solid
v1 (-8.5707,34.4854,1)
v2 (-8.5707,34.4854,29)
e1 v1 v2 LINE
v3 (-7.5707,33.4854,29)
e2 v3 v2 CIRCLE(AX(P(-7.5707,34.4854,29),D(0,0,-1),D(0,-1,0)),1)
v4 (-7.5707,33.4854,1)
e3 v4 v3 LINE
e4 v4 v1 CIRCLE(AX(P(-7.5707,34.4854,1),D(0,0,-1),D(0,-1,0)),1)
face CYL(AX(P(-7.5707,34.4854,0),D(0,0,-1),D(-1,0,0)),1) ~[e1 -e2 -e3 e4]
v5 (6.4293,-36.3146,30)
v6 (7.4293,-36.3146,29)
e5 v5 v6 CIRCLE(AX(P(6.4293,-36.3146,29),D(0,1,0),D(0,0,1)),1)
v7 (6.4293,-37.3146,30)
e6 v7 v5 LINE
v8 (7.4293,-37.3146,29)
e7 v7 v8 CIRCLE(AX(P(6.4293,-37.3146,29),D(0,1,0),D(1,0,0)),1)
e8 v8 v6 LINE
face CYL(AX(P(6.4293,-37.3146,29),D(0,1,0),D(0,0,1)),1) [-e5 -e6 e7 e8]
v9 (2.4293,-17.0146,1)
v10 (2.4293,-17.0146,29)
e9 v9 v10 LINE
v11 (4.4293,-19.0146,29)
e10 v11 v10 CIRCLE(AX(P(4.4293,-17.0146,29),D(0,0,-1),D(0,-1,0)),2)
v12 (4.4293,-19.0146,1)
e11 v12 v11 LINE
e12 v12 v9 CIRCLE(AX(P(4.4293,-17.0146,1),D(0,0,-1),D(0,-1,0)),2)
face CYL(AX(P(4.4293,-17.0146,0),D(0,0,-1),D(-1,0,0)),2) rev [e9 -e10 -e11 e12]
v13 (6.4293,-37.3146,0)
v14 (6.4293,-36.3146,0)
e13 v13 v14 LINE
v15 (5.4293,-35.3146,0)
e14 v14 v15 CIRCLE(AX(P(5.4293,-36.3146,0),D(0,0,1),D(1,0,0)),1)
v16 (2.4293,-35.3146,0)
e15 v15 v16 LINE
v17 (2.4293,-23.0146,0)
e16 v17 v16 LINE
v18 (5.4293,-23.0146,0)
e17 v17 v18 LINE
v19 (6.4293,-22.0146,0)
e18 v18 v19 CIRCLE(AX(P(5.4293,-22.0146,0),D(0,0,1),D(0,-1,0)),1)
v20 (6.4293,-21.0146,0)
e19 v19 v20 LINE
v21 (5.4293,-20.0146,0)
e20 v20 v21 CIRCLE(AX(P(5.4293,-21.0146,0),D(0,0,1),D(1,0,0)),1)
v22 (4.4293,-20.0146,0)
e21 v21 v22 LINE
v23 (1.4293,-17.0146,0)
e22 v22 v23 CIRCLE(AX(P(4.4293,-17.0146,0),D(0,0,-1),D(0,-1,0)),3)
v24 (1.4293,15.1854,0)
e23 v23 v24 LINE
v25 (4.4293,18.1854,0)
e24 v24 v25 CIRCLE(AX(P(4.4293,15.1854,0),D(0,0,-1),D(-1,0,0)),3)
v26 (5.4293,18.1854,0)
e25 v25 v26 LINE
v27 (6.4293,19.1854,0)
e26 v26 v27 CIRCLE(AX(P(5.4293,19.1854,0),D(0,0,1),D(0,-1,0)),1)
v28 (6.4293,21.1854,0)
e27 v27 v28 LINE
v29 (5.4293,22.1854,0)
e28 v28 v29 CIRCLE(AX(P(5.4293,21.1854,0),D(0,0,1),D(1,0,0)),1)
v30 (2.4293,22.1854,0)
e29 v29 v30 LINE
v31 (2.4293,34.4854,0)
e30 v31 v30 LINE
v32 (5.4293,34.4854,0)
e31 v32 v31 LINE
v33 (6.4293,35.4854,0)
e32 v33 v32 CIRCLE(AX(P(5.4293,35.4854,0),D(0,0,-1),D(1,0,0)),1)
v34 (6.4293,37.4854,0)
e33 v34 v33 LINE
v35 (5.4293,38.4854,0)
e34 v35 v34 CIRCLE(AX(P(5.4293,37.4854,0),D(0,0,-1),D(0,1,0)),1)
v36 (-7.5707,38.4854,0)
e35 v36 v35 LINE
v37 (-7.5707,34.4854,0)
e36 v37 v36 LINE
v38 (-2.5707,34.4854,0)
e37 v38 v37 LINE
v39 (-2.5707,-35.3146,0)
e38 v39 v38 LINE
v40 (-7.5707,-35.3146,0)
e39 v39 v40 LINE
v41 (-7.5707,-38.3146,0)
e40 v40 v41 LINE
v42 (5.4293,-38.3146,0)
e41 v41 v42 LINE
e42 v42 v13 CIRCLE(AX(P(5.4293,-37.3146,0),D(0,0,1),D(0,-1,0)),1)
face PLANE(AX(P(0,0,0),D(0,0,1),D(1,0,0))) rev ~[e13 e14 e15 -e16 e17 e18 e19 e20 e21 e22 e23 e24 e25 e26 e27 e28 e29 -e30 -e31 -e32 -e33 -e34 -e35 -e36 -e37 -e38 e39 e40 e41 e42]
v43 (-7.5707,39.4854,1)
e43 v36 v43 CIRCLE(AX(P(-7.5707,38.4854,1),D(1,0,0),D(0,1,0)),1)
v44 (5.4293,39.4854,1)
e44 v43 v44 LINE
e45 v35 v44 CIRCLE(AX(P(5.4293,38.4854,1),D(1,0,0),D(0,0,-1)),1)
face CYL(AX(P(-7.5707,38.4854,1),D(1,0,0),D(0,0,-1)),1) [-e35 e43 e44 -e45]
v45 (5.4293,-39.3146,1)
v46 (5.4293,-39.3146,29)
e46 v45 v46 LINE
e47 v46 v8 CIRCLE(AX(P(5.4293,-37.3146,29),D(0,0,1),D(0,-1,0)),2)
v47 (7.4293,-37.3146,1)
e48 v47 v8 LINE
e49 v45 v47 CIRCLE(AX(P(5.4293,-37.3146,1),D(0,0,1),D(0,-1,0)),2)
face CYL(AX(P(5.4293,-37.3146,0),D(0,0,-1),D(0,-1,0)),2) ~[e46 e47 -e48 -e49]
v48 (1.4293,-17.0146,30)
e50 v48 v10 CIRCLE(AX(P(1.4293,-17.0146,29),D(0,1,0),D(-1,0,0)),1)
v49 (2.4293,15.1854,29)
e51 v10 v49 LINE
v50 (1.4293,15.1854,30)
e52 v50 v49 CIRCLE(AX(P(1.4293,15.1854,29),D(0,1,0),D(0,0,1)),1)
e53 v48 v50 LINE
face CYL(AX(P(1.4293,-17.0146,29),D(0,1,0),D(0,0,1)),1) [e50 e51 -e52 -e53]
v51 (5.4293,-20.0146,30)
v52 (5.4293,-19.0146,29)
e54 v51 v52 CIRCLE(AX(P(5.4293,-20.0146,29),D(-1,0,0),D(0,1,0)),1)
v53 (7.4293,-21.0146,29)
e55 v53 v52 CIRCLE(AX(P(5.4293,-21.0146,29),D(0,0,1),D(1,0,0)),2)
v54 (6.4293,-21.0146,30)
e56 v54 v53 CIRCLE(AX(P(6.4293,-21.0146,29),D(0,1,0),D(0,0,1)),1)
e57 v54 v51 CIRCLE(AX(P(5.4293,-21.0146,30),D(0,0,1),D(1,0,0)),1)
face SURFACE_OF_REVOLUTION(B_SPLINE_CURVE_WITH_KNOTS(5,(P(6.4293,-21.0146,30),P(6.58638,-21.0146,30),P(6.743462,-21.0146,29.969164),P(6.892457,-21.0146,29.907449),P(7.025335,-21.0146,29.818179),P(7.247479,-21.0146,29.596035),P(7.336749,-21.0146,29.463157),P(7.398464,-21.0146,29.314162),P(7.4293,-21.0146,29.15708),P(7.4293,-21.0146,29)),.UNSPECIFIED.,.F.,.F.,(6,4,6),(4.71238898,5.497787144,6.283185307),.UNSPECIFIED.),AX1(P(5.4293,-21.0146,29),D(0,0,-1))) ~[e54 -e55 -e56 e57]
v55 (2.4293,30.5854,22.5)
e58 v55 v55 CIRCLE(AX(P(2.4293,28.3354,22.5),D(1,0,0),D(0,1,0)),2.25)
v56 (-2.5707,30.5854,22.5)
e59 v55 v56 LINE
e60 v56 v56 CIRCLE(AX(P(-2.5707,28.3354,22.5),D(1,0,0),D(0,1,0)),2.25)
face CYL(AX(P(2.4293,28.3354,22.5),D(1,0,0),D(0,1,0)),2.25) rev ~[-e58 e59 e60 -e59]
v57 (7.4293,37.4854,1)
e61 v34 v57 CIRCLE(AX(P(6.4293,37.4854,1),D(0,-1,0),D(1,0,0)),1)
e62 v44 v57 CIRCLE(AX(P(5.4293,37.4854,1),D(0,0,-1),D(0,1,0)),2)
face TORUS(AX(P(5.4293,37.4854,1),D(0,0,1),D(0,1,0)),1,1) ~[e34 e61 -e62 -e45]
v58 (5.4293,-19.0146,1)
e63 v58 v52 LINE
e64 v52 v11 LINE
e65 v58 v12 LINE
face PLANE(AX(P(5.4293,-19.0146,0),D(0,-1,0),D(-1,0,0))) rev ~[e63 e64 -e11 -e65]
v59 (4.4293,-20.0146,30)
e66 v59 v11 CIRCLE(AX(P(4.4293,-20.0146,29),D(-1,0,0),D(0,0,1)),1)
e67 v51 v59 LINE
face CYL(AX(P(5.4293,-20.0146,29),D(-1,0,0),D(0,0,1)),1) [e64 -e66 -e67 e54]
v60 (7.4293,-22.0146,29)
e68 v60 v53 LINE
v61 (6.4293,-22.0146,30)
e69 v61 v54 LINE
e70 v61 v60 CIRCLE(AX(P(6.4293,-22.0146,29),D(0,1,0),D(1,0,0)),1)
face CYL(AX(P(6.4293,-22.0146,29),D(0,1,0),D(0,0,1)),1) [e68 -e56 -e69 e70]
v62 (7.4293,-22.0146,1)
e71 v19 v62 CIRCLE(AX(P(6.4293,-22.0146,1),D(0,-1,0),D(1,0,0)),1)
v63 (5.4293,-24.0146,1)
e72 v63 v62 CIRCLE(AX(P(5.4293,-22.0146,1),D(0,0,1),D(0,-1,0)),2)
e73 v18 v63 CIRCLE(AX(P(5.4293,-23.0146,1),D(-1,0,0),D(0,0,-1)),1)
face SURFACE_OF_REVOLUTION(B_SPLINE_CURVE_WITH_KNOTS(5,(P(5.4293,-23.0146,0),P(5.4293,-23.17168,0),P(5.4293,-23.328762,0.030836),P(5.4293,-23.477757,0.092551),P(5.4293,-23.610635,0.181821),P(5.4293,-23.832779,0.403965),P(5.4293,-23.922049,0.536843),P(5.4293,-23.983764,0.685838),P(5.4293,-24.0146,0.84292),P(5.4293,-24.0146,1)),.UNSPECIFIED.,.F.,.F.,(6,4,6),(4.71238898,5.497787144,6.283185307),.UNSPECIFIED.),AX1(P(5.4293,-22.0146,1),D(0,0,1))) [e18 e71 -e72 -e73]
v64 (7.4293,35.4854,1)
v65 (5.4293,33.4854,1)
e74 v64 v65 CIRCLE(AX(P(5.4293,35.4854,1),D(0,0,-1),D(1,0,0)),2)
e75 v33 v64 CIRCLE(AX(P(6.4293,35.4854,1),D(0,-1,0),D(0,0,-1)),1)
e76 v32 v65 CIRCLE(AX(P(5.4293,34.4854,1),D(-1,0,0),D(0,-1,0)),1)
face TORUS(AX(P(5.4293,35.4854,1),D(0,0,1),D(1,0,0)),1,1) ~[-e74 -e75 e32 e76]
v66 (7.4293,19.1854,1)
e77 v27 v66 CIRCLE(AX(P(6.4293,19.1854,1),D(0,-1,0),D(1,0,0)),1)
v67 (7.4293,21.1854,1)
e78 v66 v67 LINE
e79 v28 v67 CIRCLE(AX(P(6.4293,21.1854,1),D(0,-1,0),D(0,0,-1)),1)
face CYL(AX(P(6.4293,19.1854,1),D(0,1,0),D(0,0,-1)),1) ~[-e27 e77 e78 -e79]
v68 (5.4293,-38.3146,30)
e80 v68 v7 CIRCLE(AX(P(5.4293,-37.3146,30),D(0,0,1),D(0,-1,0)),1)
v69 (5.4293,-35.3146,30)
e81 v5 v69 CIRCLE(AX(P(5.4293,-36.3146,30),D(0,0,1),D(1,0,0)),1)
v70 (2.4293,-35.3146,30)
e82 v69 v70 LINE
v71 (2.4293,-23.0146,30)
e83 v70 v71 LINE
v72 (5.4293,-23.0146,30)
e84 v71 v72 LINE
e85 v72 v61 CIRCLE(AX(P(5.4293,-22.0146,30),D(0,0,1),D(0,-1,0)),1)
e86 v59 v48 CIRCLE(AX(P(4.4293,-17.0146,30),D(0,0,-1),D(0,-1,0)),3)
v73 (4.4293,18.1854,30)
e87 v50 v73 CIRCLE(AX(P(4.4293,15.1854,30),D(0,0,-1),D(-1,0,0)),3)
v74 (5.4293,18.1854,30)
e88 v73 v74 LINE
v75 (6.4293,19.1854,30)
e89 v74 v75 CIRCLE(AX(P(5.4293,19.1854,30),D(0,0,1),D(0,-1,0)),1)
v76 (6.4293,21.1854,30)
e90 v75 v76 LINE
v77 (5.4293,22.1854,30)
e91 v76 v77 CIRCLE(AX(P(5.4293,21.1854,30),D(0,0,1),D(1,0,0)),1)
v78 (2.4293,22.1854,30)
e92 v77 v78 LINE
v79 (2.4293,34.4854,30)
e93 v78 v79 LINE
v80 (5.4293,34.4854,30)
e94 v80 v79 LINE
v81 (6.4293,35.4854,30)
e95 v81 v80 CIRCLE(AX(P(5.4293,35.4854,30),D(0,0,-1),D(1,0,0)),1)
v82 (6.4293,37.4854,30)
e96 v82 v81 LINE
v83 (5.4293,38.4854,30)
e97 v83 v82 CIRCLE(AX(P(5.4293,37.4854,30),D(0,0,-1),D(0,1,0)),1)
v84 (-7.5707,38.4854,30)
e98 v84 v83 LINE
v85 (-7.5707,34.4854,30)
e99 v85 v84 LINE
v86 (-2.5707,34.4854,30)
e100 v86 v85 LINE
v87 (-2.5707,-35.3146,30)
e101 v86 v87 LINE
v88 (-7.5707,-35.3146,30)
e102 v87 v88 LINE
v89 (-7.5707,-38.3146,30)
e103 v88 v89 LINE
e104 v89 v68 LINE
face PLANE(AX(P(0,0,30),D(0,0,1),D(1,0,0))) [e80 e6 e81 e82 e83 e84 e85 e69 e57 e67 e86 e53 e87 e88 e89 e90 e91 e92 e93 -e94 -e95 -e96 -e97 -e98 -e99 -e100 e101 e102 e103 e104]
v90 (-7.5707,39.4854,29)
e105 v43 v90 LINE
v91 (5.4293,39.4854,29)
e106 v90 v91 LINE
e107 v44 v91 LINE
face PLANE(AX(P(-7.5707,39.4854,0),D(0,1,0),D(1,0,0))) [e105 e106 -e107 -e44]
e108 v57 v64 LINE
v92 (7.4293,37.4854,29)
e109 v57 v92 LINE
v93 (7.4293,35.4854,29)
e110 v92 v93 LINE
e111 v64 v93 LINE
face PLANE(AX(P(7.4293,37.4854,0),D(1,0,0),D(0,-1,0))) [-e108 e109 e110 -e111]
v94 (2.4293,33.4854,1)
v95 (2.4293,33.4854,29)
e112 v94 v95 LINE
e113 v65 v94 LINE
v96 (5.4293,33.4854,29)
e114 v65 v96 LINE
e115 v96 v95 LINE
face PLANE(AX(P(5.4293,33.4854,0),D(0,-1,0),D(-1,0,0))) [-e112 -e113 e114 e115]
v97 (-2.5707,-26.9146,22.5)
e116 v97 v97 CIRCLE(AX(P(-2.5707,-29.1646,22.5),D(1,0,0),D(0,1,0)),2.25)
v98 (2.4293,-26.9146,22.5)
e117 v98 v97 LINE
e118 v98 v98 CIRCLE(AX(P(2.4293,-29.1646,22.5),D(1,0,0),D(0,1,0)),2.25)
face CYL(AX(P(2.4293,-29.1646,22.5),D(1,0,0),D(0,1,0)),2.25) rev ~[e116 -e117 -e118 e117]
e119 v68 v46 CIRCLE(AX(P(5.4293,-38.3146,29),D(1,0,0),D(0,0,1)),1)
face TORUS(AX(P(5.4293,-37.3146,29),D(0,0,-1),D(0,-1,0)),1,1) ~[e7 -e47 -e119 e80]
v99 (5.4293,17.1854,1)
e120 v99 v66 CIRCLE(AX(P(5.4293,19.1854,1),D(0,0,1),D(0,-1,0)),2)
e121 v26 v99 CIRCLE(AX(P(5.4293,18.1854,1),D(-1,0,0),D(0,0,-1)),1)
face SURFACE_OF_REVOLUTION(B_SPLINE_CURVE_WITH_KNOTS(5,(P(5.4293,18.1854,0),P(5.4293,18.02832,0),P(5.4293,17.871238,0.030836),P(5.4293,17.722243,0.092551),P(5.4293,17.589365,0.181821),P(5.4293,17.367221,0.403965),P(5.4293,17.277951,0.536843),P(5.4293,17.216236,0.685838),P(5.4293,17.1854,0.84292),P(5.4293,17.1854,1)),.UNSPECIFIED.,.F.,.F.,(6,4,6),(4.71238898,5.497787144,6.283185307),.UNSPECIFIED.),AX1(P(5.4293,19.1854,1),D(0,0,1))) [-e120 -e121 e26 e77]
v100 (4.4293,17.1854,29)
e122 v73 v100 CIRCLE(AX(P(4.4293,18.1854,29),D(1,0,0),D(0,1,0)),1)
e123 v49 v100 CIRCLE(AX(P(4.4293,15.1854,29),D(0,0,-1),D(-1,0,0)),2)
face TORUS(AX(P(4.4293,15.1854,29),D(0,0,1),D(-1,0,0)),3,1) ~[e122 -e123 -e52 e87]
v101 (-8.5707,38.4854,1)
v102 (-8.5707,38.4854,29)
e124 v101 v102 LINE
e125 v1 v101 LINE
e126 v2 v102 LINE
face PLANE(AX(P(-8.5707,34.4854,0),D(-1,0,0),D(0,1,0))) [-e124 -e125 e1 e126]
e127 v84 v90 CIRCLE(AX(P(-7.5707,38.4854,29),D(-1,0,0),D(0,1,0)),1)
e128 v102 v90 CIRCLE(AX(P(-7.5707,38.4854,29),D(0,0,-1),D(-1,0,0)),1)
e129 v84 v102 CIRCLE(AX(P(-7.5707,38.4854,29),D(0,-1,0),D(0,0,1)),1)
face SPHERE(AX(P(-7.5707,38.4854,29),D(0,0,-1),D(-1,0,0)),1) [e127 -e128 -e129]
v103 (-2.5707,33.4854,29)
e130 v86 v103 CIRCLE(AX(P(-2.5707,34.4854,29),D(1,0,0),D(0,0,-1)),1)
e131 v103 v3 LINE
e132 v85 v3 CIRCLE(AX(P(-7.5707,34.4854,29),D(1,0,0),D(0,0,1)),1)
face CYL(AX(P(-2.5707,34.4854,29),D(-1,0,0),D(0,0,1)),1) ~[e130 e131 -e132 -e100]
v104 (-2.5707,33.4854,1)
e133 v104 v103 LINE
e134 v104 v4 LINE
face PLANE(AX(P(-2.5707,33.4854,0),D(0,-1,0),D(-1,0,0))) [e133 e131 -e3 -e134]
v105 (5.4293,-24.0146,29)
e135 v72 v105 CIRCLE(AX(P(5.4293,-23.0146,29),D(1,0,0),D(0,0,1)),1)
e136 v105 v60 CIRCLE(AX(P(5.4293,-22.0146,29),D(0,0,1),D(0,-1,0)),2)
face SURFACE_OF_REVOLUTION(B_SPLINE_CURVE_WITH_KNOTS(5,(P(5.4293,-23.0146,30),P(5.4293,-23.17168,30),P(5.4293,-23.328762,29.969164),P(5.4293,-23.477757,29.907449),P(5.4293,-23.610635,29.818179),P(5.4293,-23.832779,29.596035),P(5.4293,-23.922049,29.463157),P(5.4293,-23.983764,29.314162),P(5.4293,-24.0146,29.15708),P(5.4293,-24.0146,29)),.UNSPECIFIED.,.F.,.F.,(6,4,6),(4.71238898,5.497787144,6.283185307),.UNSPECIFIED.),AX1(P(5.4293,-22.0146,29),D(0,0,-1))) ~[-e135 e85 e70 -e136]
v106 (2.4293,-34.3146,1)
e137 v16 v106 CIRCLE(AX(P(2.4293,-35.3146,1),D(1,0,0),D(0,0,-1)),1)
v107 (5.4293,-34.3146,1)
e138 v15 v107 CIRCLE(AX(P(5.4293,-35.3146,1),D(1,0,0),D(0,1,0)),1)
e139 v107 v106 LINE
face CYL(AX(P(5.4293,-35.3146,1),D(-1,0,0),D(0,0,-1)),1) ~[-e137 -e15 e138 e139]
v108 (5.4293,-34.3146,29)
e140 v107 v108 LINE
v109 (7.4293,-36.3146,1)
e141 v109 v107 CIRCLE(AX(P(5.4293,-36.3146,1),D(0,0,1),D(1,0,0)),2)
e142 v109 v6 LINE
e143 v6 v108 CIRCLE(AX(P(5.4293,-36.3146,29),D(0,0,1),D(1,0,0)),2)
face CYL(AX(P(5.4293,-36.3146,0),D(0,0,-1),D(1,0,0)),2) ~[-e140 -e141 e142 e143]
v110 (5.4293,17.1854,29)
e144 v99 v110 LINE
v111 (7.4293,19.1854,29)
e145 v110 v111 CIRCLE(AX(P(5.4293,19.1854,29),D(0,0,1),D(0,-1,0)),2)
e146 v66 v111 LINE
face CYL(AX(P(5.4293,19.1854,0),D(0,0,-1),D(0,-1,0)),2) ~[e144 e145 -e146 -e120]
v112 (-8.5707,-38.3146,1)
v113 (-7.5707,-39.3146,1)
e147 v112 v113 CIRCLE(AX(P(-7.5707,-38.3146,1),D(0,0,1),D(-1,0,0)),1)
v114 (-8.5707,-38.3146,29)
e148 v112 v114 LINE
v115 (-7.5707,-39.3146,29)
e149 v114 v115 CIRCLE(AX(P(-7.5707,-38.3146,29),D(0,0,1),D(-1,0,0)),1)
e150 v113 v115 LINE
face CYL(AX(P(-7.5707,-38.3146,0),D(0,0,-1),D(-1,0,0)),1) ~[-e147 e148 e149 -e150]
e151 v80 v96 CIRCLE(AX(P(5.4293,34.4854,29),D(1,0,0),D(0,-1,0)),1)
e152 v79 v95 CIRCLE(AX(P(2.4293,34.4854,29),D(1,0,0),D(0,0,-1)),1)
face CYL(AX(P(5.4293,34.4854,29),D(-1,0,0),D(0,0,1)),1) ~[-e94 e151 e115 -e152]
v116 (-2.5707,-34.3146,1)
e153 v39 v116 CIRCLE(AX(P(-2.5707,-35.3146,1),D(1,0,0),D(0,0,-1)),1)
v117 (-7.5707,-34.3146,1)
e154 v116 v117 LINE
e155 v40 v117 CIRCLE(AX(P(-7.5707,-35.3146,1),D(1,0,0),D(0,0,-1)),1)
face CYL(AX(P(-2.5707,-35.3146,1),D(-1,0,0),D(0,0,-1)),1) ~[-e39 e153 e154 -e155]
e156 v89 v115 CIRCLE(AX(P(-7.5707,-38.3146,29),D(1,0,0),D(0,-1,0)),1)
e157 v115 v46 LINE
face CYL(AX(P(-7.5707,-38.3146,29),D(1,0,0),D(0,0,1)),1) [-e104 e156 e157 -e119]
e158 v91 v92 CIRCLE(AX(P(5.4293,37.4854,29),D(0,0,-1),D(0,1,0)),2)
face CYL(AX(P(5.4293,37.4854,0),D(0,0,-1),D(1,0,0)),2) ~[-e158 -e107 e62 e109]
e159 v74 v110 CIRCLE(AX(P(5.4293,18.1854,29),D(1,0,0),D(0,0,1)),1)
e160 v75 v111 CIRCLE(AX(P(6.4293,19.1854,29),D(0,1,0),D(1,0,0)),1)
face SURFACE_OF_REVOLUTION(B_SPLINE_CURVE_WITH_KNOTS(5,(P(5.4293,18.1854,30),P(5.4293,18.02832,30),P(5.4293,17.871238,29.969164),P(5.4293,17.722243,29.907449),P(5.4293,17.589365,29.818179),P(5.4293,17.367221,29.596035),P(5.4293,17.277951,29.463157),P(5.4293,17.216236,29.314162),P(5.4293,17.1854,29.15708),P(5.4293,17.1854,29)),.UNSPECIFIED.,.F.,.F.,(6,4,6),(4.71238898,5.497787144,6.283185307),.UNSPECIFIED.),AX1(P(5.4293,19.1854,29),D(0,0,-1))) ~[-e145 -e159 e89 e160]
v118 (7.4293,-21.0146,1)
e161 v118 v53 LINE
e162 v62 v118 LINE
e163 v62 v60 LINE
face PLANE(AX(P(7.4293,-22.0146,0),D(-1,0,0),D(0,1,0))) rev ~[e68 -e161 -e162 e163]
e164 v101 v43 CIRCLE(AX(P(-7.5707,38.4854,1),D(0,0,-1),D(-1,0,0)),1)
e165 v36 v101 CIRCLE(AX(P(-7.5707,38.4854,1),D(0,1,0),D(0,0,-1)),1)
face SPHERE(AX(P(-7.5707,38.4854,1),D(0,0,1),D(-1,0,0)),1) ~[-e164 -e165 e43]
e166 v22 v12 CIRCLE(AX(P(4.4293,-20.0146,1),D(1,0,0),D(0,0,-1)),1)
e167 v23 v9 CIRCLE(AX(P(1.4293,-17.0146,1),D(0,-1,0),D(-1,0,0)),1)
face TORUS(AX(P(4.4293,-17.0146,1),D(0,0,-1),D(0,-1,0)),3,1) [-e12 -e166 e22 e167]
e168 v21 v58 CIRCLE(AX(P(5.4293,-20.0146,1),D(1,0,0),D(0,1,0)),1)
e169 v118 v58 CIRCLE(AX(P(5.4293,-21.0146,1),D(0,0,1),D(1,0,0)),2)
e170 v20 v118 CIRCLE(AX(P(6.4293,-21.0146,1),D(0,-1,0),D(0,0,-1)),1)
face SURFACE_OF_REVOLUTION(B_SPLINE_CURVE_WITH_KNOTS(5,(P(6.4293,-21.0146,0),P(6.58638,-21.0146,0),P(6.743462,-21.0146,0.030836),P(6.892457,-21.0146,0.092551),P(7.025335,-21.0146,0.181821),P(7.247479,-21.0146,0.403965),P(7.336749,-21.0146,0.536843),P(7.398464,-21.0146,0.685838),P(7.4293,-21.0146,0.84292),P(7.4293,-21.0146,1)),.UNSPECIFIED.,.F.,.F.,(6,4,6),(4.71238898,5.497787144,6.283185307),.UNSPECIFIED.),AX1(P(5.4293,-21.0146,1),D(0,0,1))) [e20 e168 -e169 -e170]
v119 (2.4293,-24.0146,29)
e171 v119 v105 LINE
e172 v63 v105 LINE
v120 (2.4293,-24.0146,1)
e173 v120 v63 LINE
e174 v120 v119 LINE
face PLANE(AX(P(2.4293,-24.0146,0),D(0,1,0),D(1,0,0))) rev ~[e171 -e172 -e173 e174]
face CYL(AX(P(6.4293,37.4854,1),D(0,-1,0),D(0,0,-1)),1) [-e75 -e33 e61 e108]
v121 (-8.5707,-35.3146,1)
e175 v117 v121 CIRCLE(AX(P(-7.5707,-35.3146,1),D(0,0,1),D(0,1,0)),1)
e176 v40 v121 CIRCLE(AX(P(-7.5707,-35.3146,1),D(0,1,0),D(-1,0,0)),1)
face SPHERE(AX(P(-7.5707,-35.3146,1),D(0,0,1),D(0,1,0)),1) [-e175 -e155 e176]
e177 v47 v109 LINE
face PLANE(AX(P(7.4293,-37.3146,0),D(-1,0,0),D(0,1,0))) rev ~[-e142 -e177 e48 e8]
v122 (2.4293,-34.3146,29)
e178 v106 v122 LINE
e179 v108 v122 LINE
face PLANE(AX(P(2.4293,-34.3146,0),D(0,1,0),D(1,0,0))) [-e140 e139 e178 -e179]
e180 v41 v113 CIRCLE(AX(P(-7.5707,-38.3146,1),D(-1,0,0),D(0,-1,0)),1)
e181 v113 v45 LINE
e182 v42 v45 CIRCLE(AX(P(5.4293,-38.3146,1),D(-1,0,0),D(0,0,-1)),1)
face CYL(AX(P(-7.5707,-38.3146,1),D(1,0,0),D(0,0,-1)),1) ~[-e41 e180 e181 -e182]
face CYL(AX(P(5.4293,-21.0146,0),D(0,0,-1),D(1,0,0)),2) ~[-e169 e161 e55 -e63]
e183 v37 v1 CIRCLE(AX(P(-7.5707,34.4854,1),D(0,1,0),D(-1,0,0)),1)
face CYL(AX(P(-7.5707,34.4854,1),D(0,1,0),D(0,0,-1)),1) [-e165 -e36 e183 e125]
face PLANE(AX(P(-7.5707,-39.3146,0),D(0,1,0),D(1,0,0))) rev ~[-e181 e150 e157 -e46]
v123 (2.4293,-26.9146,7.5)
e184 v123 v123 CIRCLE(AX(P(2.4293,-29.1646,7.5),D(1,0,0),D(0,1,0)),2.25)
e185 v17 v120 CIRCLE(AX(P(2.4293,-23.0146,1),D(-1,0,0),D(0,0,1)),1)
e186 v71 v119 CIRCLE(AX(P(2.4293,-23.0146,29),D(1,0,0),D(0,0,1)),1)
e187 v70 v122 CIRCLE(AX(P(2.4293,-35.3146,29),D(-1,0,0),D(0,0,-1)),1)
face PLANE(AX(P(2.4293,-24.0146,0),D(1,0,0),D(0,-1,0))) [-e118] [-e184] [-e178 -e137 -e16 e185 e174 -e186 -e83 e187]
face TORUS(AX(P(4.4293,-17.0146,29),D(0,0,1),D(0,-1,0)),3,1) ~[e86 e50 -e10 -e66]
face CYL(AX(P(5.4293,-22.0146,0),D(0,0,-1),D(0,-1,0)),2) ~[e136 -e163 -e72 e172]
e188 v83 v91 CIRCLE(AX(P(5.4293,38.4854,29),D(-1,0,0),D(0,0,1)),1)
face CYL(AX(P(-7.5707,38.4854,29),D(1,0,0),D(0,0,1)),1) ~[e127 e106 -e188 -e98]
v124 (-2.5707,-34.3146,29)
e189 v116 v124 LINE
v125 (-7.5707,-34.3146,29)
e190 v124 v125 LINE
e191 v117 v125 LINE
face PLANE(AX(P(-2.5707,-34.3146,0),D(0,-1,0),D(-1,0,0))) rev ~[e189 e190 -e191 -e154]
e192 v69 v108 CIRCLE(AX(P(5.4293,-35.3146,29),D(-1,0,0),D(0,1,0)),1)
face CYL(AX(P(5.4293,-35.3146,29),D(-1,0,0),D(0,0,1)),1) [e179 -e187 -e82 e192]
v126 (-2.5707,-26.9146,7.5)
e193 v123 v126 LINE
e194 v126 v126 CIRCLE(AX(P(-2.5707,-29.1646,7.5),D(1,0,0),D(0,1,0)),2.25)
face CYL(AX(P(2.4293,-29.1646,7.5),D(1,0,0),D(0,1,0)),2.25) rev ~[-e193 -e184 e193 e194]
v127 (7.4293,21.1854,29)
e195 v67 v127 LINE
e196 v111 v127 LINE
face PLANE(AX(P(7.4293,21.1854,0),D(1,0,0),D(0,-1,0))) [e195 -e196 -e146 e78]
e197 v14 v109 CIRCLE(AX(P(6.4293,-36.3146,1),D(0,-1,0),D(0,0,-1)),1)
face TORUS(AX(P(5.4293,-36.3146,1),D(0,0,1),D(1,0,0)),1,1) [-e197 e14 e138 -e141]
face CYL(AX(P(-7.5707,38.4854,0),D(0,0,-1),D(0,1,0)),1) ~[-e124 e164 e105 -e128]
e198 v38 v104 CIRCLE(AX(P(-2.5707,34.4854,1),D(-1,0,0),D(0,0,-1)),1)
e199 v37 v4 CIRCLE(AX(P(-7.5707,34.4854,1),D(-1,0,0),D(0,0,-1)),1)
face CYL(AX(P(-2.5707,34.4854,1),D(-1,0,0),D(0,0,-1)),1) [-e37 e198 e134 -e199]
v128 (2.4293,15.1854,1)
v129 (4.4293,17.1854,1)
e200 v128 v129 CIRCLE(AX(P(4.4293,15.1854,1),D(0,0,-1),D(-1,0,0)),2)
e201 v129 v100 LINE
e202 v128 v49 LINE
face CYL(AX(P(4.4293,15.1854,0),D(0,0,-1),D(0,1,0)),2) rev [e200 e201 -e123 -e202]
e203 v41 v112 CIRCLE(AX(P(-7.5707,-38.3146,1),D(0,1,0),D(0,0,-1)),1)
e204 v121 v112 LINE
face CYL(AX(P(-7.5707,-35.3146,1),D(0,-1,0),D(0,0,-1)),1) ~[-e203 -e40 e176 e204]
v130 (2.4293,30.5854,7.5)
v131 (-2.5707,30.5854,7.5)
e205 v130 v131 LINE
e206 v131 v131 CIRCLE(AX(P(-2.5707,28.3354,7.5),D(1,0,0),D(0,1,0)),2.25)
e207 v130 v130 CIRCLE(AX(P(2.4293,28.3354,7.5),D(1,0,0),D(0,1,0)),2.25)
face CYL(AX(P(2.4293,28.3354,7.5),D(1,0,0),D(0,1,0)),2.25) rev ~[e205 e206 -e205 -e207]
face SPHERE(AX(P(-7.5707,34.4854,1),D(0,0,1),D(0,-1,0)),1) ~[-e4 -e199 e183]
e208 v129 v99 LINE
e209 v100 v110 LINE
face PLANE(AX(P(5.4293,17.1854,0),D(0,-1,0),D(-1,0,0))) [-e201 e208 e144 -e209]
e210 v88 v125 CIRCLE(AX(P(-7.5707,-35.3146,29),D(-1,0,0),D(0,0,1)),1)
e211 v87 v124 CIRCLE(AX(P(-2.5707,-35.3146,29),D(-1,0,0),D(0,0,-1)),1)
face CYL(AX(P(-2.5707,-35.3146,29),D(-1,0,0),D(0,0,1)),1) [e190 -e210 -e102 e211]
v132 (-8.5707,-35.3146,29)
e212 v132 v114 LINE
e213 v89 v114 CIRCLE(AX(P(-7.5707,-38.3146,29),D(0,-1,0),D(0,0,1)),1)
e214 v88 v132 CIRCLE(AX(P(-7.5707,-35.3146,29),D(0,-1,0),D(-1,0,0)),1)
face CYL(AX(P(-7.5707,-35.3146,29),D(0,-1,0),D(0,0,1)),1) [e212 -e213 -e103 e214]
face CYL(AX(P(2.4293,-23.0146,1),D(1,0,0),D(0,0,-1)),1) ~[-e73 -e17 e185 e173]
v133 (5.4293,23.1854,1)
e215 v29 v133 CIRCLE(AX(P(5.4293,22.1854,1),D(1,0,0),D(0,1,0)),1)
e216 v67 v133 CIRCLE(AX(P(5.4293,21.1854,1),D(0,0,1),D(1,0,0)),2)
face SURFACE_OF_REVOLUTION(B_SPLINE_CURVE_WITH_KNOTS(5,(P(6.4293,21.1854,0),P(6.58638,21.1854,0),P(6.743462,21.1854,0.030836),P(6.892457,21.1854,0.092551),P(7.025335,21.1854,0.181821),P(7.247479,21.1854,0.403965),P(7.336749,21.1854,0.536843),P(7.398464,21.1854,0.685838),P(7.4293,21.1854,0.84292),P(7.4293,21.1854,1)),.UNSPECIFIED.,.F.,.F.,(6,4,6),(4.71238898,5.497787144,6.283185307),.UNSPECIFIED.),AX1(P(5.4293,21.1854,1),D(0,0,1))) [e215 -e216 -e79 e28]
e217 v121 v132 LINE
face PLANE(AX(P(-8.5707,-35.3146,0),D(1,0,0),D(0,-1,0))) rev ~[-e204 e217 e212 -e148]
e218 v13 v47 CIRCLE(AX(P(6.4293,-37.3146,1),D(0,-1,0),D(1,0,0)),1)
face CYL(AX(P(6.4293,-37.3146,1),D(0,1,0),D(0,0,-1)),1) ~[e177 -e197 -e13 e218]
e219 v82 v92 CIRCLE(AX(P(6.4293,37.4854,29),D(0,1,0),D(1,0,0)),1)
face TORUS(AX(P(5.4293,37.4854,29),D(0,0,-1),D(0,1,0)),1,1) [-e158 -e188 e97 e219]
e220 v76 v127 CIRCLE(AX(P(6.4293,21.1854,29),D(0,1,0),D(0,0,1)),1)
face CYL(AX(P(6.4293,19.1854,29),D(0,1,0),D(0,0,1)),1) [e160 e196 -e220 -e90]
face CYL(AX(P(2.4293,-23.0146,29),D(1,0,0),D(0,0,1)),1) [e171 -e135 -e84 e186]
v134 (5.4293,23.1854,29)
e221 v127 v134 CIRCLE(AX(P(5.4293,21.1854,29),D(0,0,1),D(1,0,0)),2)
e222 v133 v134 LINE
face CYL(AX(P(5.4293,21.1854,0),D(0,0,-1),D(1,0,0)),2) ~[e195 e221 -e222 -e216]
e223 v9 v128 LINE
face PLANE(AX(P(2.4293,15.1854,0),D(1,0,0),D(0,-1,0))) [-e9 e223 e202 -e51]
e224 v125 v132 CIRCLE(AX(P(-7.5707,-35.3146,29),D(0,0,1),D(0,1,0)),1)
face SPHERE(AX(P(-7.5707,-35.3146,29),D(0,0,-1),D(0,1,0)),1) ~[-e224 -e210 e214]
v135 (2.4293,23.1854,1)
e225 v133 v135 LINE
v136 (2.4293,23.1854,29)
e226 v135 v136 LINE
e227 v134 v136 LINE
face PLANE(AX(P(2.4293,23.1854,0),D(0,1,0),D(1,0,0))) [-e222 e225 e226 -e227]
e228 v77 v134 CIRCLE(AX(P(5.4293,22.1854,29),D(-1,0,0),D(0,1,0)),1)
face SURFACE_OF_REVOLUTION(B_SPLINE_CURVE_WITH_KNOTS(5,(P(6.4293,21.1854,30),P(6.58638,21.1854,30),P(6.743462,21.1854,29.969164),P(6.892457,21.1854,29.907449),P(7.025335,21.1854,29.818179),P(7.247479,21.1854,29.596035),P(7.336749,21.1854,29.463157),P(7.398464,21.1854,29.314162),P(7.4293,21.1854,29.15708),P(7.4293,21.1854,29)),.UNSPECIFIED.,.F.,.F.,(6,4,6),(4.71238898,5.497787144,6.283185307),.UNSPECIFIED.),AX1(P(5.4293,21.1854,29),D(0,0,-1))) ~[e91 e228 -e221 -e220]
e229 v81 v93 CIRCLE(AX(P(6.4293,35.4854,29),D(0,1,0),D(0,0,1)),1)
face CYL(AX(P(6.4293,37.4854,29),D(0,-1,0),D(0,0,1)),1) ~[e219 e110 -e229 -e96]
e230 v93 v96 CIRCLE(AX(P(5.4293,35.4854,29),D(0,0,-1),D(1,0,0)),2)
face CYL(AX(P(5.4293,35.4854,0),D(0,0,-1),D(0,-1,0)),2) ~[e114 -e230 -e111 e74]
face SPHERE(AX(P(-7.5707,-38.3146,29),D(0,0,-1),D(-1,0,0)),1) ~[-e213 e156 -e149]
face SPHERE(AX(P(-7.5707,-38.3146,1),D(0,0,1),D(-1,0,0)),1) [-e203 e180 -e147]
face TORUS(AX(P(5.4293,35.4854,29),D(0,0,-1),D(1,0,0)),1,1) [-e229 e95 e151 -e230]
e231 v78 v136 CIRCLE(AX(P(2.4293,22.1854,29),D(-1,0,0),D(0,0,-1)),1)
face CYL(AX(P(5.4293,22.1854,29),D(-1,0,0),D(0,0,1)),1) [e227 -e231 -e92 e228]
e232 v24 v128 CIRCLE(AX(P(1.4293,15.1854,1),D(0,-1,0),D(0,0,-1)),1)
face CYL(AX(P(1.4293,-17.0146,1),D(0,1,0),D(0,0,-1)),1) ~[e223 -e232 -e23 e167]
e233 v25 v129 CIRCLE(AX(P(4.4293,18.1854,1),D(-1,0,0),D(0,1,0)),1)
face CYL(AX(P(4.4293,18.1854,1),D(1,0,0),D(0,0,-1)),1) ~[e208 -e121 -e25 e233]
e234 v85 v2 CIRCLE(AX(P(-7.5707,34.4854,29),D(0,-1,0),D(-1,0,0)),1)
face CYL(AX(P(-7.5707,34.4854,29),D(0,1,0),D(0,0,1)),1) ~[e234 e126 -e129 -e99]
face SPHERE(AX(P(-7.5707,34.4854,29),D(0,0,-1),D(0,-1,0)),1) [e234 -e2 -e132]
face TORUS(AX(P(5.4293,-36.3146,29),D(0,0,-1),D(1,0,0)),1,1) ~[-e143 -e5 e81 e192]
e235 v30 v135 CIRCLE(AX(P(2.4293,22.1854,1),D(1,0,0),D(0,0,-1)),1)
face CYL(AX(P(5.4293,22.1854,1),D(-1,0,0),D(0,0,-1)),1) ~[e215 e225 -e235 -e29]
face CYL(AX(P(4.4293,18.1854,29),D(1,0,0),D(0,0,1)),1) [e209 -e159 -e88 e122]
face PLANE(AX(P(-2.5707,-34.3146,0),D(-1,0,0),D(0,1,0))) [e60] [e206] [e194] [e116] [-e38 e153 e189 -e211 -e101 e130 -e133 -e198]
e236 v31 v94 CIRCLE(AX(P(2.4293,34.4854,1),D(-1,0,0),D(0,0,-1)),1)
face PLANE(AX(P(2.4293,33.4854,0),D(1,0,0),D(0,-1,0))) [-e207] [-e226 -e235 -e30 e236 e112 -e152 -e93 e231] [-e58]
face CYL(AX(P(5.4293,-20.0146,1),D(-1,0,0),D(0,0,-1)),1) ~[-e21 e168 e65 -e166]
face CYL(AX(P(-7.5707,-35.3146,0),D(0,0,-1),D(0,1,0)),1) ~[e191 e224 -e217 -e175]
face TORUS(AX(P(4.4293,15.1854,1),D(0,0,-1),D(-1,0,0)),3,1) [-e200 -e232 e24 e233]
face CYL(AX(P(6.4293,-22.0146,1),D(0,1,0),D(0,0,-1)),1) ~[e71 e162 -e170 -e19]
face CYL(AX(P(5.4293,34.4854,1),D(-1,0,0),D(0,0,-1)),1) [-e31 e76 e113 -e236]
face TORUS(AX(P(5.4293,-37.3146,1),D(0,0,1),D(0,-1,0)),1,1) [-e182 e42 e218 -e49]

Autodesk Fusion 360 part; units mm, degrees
sketch "base" plane through (0, 0, 0) normal (0, 0, 1) x (1, 0, 0)
  line L0 (-7.5707, -39.3146) -> (5.4293, -39.3146)
  line L1 (7.4293, -37.3146) -> (7.4293, -36.3146)
  line L2 (-8.5707, -35.3146) -> (-8.5707, -38.3146)
  line L3 (5.4293, -39.3146) -> (2.4293, -39.3146)
  line L4 (2.4293, -34.3146) -> (5.4293, -34.3146)
  line L5 (7.4293, -36.3146) -> (7.4293, -37.3146)
  line L6 (2.4293, -39.3146) -> (-2.5707, -39.3146)
  line L7 (-2.5707, -34.3146) -> (-2.5707, 33.4854)
  line L8 (-2.5707, 39.4854) -> (2.4293, 39.4854)
  line L9 (-7.5707, 39.4854) -> (5.4293, 39.4854)
  line L10 (7.4293, 37.4854) -> (7.4293, 35.4854)
  line L11 (-8.5707, 34.4854) -> (-8.5707, 38.4854)
  line L12 (2.4293, 33.4854) -> (2.4293, 23.1854) construction
  line L13 (2.4293, 23.1854) -> (5.4293, 23.1854)
  line L14 (7.4293, 21.1854) -> (7.4293, 19.1854)
  line L15 (5.4293, 17.1854) -> (4.4293, 17.1854)
  line L16 (2.4293, -34.3146) -> (2.4293, -24.0146) construction
  line L17 (2.4293, -24.0146) -> (5.4293, -24.0146)
  line L18 (7.4293, -22.0146) -> (7.4293, -21.0146)
  line L19 (5.4293, -19.0146) -> (4.4293, -19.0146)
  line L20 (2.4293, -24.0146) -> (2.4293, -34.3146)
  line L21 (5.4293, -34.3146) -> (2.4293, -34.3146)
  line L22 (-2.5707, -34.3146) -> (-7.5707, -34.3146)
  line L23 (2.4293, 33.4854) -> (2.4293, 23.1854)
  line L24 (2.4293, 15.1854) -> (2.4293, -17.0146)
  line L25 (5.4293, 33.4854) -> (2.4293, 33.4854)
  line L26 (-2.5707, 33.4854) -> (-7.5707, 33.4854)
  arc A0 (-7.5707, 39.4854) -> (-8.5707, 38.4854) centre (-7.5707, 38.4854) ccw
  arc A1 (-8.5707, 34.4854) -> (-7.5707, 33.4854) centre (-7.5707, 34.4854) ccw
  arc A2 (-7.5707, -34.3146) -> (-8.5707, -35.3146) centre (-7.5707, -35.3146) ccw
  arc A3 (-8.5707, -38.3146) -> (-7.5707, -39.3146) centre (-7.5707, -38.3146) ccw
  arc A4 (7.4293, 37.4854) -> (5.4293, 39.4854) centre (5.4293, 37.4854) ccw
  arc A5 (5.4293, 33.4854) -> (7.4293, 35.4854) centre (5.4293, 35.4854) ccw
  arc A6 (7.4293, 21.1854) -> (5.4293, 23.1854) centre (5.4293, 21.1854) ccw
  arc A7 (5.4293, 17.1854) -> (7.4293, 19.1854) centre (5.4293, 19.1854) ccw
  arc A8 (4.4293, 17.1854) -> (2.4293, 15.1854) centre (4.4293, 15.1854) ccw
  arc A9 (2.4293, -17.0146) -> (4.4293, -19.0146) centre (4.4293, -17.0146) ccw
  arc A10 (7.4293, -21.0146) -> (5.4293, -19.0146) centre (5.4293, -21.0146) ccw
  arc A11 (5.4293, -24.0146) -> (7.4293, -22.0146) centre (5.4293, -22.0146) ccw
  arc A12 (7.4293, -36.3146) -> (5.4293, -34.3146) centre (5.4293, -36.3146) ccw
  arc A13 (5.4293, -39.3146) -> (7.4293, -37.3146) centre (5.4293, -37.3146) ccw
  point P0 (-8.5707, -39.3146)
  point P1 (-8.5707, -34.3146)
  point P2 (-8.5707, 39.4854)
  point P3 (7.4293, 39.4854)
  point P4 (-8.5707, 33.4854)
  point P5 (7.4293, 23.1854)
  point P6 (2.4293, 17.1854)
  point P7 (7.4293, -24.0146)
  point P8 (2.4293, -19.0146)
  dimension "d2" = 5
  dimension "d4" = 5
  dimension "d5" = 78.8
  dimension "d6" = 16
  dimension "d7" = 6
  dimension "d8" = 6
  dimension "d9" = 10.3
  dimension "d10" = 5
  dimension "d11" = 6
  dimension "d12" = 10.3
  dimension "d13" = 5
  dimension "d14" = 5
  dimension "d15" = 1
  dimension "d16" = 2
  dimension "d17" = 2
extrude "Extrude1" add sketch "base" along normal blind 30
sketch "right-holes" plane through (2.4293, 0, 0) normal (1, 0, 0) x (0, 1, 0)
  line L0 (23.1854, 0) -> (33.4854, 0)
  line L1 (33.4854, 0) -> (33.4854, 30)
  line L2 (33.4854, 30) -> (23.1854, 30)
  line L3 (23.1854, 30) -> (23.1854, 0)
  line L4 (33.4854, 30) -> (28.3354, 30)
  line L5 (33.4854, 22.5) -> (33.4854, 30)
  circle A0 centre (28.3354, 22.5) radius 2.25
  line L6 (28.3354, 30) -> (28.3354, 15) construction
  line L7 (23.1854, 15) -> (33.4854, 15) construction
  circle A1 centre (28.3354, 7.5) radius 2.25
  dimension "d20" = 5.15
  dimension "d21" = 7.5
  dimension "d22" = 4.5
  dimension "d23" = 15
  dimension "d24" = 7.5
sketch "left-holes" plane through (2.4293, 0, 0) normal (1, 0, 0) x (0, 1, 0)
  line L0 (-34.3146, 0) -> (-24.0146, 0)
  line L1 (-24.0146, 0) -> (-24.0146, 30)
  line L2 (-24.0146, 30) -> (-34.3146, 30)
  line L3 (-34.3146, 30) -> (-34.3146, 0)
  line L4 (-34.3146, 30) -> (-29.1646, 30)
  line L5 (-29.1646, 30) -> (-29.1646, 22.5) construction
  line L6 (-29.1646, 22.5) -> (-34.3146, 22.5) construction
  line L7 (-34.3146, 22.5) -> (-34.3146, 30)
  circle A0 centre (-29.1646, 22.5) radius 2.25
  line L8 (-24.0146, 15) -> (-34.3146, 15) construction
  circle A1 centre (-29.1646, 7.5) radius 2.25
  dimension "d25" = 5.15
  dimension "d26" = 4.5
extrude "Extrude2" cut sketch "left-holes" sketch "right-holes" against normal blind 16 contours A0 | A1 of sketch 2 contours A0 | A1
fillet "Fillet1" radius 1 62 edges at (-5.0707, -34.3146, 30) (-8.2778, -34.6075, 30) (-8.5707, -36.8146, 30) (-8.2778, -39.0217, 30) (-1.0707, -39.3146, 30) (6.8435, -38.7288, 30) (7.4293, -36.8146, 30) (6.8435, -34.9004, 30) (3.9293, -34.3146, 30) (-5.0707, -34.3146, 0) (-8.2778, -34.6075, 0) (-8.5707, -36.8146, 0) (-8.2778, -39.0217, 0) (-1.0707, -39.3146, 0) (6.8435, -38.7288, 0) (7.4293, -36.8146, 0) (6.8435, -34.9004, 0) (3.9293, -34.3146, 0) (3.9293, -24.0146, 0) (6.8435, -23.4288, 0) (7.4293, -21.5146, 0) (6.8435, -19.6004, 0) (4.9293, -19.0146, 0) (3.0151, -18.4288, 0) (2.4293, -0.9146, 0) (3.0151, 16.5996, 0) (4.9293, 17.1854, 0) (6.8435, 17.7712, 0) (7.4293, 20.1854, 0) (6.8435, 22.5996, 0) (3.9293, 23.1854, 0) (3.9293, -24.0146, 30) (6.8435, -23.4288, 30) (7.4293, -21.5146, 30) (6.8435, -19.6004, 30) (4.9293, -19.0146, 30) (3.0151, -18.4288, 30) (2.4293, -0.9146, 30) (3.0151, 16.5996, 30) (4.9293, 17.1854, 30) (6.8435, 17.7712, 30) (7.4293, 20.1854, 30) (6.8435, 22.5996, 30) (3.9293, 23.1854, 30) (3.9293, 33.4854, 30) (6.8435, 34.0712, 30) (7.4293, 36.4854, 30) (6.8435, 38.8996, 30) (-1.0707, 39.4854, 30) (-8.2778, 39.1925, 30) (-8.5707, 36.4854, 30) (-8.2778, 33.7783, 30) (-5.0707, 33.4854, 30) (-5.0707, 33.4854, 0) (-8.2778, 33.7783, 0) (-8.5707, 36.4854, 0) (-8.2778, 39.1925, 0) (-1.0707, 39.4854, 0) (6.8435, 38.8996, 0) (7.4293, 36.4854, 0) (6.8435, 34.0712, 0) (3.9293, 33.4854, 0)
